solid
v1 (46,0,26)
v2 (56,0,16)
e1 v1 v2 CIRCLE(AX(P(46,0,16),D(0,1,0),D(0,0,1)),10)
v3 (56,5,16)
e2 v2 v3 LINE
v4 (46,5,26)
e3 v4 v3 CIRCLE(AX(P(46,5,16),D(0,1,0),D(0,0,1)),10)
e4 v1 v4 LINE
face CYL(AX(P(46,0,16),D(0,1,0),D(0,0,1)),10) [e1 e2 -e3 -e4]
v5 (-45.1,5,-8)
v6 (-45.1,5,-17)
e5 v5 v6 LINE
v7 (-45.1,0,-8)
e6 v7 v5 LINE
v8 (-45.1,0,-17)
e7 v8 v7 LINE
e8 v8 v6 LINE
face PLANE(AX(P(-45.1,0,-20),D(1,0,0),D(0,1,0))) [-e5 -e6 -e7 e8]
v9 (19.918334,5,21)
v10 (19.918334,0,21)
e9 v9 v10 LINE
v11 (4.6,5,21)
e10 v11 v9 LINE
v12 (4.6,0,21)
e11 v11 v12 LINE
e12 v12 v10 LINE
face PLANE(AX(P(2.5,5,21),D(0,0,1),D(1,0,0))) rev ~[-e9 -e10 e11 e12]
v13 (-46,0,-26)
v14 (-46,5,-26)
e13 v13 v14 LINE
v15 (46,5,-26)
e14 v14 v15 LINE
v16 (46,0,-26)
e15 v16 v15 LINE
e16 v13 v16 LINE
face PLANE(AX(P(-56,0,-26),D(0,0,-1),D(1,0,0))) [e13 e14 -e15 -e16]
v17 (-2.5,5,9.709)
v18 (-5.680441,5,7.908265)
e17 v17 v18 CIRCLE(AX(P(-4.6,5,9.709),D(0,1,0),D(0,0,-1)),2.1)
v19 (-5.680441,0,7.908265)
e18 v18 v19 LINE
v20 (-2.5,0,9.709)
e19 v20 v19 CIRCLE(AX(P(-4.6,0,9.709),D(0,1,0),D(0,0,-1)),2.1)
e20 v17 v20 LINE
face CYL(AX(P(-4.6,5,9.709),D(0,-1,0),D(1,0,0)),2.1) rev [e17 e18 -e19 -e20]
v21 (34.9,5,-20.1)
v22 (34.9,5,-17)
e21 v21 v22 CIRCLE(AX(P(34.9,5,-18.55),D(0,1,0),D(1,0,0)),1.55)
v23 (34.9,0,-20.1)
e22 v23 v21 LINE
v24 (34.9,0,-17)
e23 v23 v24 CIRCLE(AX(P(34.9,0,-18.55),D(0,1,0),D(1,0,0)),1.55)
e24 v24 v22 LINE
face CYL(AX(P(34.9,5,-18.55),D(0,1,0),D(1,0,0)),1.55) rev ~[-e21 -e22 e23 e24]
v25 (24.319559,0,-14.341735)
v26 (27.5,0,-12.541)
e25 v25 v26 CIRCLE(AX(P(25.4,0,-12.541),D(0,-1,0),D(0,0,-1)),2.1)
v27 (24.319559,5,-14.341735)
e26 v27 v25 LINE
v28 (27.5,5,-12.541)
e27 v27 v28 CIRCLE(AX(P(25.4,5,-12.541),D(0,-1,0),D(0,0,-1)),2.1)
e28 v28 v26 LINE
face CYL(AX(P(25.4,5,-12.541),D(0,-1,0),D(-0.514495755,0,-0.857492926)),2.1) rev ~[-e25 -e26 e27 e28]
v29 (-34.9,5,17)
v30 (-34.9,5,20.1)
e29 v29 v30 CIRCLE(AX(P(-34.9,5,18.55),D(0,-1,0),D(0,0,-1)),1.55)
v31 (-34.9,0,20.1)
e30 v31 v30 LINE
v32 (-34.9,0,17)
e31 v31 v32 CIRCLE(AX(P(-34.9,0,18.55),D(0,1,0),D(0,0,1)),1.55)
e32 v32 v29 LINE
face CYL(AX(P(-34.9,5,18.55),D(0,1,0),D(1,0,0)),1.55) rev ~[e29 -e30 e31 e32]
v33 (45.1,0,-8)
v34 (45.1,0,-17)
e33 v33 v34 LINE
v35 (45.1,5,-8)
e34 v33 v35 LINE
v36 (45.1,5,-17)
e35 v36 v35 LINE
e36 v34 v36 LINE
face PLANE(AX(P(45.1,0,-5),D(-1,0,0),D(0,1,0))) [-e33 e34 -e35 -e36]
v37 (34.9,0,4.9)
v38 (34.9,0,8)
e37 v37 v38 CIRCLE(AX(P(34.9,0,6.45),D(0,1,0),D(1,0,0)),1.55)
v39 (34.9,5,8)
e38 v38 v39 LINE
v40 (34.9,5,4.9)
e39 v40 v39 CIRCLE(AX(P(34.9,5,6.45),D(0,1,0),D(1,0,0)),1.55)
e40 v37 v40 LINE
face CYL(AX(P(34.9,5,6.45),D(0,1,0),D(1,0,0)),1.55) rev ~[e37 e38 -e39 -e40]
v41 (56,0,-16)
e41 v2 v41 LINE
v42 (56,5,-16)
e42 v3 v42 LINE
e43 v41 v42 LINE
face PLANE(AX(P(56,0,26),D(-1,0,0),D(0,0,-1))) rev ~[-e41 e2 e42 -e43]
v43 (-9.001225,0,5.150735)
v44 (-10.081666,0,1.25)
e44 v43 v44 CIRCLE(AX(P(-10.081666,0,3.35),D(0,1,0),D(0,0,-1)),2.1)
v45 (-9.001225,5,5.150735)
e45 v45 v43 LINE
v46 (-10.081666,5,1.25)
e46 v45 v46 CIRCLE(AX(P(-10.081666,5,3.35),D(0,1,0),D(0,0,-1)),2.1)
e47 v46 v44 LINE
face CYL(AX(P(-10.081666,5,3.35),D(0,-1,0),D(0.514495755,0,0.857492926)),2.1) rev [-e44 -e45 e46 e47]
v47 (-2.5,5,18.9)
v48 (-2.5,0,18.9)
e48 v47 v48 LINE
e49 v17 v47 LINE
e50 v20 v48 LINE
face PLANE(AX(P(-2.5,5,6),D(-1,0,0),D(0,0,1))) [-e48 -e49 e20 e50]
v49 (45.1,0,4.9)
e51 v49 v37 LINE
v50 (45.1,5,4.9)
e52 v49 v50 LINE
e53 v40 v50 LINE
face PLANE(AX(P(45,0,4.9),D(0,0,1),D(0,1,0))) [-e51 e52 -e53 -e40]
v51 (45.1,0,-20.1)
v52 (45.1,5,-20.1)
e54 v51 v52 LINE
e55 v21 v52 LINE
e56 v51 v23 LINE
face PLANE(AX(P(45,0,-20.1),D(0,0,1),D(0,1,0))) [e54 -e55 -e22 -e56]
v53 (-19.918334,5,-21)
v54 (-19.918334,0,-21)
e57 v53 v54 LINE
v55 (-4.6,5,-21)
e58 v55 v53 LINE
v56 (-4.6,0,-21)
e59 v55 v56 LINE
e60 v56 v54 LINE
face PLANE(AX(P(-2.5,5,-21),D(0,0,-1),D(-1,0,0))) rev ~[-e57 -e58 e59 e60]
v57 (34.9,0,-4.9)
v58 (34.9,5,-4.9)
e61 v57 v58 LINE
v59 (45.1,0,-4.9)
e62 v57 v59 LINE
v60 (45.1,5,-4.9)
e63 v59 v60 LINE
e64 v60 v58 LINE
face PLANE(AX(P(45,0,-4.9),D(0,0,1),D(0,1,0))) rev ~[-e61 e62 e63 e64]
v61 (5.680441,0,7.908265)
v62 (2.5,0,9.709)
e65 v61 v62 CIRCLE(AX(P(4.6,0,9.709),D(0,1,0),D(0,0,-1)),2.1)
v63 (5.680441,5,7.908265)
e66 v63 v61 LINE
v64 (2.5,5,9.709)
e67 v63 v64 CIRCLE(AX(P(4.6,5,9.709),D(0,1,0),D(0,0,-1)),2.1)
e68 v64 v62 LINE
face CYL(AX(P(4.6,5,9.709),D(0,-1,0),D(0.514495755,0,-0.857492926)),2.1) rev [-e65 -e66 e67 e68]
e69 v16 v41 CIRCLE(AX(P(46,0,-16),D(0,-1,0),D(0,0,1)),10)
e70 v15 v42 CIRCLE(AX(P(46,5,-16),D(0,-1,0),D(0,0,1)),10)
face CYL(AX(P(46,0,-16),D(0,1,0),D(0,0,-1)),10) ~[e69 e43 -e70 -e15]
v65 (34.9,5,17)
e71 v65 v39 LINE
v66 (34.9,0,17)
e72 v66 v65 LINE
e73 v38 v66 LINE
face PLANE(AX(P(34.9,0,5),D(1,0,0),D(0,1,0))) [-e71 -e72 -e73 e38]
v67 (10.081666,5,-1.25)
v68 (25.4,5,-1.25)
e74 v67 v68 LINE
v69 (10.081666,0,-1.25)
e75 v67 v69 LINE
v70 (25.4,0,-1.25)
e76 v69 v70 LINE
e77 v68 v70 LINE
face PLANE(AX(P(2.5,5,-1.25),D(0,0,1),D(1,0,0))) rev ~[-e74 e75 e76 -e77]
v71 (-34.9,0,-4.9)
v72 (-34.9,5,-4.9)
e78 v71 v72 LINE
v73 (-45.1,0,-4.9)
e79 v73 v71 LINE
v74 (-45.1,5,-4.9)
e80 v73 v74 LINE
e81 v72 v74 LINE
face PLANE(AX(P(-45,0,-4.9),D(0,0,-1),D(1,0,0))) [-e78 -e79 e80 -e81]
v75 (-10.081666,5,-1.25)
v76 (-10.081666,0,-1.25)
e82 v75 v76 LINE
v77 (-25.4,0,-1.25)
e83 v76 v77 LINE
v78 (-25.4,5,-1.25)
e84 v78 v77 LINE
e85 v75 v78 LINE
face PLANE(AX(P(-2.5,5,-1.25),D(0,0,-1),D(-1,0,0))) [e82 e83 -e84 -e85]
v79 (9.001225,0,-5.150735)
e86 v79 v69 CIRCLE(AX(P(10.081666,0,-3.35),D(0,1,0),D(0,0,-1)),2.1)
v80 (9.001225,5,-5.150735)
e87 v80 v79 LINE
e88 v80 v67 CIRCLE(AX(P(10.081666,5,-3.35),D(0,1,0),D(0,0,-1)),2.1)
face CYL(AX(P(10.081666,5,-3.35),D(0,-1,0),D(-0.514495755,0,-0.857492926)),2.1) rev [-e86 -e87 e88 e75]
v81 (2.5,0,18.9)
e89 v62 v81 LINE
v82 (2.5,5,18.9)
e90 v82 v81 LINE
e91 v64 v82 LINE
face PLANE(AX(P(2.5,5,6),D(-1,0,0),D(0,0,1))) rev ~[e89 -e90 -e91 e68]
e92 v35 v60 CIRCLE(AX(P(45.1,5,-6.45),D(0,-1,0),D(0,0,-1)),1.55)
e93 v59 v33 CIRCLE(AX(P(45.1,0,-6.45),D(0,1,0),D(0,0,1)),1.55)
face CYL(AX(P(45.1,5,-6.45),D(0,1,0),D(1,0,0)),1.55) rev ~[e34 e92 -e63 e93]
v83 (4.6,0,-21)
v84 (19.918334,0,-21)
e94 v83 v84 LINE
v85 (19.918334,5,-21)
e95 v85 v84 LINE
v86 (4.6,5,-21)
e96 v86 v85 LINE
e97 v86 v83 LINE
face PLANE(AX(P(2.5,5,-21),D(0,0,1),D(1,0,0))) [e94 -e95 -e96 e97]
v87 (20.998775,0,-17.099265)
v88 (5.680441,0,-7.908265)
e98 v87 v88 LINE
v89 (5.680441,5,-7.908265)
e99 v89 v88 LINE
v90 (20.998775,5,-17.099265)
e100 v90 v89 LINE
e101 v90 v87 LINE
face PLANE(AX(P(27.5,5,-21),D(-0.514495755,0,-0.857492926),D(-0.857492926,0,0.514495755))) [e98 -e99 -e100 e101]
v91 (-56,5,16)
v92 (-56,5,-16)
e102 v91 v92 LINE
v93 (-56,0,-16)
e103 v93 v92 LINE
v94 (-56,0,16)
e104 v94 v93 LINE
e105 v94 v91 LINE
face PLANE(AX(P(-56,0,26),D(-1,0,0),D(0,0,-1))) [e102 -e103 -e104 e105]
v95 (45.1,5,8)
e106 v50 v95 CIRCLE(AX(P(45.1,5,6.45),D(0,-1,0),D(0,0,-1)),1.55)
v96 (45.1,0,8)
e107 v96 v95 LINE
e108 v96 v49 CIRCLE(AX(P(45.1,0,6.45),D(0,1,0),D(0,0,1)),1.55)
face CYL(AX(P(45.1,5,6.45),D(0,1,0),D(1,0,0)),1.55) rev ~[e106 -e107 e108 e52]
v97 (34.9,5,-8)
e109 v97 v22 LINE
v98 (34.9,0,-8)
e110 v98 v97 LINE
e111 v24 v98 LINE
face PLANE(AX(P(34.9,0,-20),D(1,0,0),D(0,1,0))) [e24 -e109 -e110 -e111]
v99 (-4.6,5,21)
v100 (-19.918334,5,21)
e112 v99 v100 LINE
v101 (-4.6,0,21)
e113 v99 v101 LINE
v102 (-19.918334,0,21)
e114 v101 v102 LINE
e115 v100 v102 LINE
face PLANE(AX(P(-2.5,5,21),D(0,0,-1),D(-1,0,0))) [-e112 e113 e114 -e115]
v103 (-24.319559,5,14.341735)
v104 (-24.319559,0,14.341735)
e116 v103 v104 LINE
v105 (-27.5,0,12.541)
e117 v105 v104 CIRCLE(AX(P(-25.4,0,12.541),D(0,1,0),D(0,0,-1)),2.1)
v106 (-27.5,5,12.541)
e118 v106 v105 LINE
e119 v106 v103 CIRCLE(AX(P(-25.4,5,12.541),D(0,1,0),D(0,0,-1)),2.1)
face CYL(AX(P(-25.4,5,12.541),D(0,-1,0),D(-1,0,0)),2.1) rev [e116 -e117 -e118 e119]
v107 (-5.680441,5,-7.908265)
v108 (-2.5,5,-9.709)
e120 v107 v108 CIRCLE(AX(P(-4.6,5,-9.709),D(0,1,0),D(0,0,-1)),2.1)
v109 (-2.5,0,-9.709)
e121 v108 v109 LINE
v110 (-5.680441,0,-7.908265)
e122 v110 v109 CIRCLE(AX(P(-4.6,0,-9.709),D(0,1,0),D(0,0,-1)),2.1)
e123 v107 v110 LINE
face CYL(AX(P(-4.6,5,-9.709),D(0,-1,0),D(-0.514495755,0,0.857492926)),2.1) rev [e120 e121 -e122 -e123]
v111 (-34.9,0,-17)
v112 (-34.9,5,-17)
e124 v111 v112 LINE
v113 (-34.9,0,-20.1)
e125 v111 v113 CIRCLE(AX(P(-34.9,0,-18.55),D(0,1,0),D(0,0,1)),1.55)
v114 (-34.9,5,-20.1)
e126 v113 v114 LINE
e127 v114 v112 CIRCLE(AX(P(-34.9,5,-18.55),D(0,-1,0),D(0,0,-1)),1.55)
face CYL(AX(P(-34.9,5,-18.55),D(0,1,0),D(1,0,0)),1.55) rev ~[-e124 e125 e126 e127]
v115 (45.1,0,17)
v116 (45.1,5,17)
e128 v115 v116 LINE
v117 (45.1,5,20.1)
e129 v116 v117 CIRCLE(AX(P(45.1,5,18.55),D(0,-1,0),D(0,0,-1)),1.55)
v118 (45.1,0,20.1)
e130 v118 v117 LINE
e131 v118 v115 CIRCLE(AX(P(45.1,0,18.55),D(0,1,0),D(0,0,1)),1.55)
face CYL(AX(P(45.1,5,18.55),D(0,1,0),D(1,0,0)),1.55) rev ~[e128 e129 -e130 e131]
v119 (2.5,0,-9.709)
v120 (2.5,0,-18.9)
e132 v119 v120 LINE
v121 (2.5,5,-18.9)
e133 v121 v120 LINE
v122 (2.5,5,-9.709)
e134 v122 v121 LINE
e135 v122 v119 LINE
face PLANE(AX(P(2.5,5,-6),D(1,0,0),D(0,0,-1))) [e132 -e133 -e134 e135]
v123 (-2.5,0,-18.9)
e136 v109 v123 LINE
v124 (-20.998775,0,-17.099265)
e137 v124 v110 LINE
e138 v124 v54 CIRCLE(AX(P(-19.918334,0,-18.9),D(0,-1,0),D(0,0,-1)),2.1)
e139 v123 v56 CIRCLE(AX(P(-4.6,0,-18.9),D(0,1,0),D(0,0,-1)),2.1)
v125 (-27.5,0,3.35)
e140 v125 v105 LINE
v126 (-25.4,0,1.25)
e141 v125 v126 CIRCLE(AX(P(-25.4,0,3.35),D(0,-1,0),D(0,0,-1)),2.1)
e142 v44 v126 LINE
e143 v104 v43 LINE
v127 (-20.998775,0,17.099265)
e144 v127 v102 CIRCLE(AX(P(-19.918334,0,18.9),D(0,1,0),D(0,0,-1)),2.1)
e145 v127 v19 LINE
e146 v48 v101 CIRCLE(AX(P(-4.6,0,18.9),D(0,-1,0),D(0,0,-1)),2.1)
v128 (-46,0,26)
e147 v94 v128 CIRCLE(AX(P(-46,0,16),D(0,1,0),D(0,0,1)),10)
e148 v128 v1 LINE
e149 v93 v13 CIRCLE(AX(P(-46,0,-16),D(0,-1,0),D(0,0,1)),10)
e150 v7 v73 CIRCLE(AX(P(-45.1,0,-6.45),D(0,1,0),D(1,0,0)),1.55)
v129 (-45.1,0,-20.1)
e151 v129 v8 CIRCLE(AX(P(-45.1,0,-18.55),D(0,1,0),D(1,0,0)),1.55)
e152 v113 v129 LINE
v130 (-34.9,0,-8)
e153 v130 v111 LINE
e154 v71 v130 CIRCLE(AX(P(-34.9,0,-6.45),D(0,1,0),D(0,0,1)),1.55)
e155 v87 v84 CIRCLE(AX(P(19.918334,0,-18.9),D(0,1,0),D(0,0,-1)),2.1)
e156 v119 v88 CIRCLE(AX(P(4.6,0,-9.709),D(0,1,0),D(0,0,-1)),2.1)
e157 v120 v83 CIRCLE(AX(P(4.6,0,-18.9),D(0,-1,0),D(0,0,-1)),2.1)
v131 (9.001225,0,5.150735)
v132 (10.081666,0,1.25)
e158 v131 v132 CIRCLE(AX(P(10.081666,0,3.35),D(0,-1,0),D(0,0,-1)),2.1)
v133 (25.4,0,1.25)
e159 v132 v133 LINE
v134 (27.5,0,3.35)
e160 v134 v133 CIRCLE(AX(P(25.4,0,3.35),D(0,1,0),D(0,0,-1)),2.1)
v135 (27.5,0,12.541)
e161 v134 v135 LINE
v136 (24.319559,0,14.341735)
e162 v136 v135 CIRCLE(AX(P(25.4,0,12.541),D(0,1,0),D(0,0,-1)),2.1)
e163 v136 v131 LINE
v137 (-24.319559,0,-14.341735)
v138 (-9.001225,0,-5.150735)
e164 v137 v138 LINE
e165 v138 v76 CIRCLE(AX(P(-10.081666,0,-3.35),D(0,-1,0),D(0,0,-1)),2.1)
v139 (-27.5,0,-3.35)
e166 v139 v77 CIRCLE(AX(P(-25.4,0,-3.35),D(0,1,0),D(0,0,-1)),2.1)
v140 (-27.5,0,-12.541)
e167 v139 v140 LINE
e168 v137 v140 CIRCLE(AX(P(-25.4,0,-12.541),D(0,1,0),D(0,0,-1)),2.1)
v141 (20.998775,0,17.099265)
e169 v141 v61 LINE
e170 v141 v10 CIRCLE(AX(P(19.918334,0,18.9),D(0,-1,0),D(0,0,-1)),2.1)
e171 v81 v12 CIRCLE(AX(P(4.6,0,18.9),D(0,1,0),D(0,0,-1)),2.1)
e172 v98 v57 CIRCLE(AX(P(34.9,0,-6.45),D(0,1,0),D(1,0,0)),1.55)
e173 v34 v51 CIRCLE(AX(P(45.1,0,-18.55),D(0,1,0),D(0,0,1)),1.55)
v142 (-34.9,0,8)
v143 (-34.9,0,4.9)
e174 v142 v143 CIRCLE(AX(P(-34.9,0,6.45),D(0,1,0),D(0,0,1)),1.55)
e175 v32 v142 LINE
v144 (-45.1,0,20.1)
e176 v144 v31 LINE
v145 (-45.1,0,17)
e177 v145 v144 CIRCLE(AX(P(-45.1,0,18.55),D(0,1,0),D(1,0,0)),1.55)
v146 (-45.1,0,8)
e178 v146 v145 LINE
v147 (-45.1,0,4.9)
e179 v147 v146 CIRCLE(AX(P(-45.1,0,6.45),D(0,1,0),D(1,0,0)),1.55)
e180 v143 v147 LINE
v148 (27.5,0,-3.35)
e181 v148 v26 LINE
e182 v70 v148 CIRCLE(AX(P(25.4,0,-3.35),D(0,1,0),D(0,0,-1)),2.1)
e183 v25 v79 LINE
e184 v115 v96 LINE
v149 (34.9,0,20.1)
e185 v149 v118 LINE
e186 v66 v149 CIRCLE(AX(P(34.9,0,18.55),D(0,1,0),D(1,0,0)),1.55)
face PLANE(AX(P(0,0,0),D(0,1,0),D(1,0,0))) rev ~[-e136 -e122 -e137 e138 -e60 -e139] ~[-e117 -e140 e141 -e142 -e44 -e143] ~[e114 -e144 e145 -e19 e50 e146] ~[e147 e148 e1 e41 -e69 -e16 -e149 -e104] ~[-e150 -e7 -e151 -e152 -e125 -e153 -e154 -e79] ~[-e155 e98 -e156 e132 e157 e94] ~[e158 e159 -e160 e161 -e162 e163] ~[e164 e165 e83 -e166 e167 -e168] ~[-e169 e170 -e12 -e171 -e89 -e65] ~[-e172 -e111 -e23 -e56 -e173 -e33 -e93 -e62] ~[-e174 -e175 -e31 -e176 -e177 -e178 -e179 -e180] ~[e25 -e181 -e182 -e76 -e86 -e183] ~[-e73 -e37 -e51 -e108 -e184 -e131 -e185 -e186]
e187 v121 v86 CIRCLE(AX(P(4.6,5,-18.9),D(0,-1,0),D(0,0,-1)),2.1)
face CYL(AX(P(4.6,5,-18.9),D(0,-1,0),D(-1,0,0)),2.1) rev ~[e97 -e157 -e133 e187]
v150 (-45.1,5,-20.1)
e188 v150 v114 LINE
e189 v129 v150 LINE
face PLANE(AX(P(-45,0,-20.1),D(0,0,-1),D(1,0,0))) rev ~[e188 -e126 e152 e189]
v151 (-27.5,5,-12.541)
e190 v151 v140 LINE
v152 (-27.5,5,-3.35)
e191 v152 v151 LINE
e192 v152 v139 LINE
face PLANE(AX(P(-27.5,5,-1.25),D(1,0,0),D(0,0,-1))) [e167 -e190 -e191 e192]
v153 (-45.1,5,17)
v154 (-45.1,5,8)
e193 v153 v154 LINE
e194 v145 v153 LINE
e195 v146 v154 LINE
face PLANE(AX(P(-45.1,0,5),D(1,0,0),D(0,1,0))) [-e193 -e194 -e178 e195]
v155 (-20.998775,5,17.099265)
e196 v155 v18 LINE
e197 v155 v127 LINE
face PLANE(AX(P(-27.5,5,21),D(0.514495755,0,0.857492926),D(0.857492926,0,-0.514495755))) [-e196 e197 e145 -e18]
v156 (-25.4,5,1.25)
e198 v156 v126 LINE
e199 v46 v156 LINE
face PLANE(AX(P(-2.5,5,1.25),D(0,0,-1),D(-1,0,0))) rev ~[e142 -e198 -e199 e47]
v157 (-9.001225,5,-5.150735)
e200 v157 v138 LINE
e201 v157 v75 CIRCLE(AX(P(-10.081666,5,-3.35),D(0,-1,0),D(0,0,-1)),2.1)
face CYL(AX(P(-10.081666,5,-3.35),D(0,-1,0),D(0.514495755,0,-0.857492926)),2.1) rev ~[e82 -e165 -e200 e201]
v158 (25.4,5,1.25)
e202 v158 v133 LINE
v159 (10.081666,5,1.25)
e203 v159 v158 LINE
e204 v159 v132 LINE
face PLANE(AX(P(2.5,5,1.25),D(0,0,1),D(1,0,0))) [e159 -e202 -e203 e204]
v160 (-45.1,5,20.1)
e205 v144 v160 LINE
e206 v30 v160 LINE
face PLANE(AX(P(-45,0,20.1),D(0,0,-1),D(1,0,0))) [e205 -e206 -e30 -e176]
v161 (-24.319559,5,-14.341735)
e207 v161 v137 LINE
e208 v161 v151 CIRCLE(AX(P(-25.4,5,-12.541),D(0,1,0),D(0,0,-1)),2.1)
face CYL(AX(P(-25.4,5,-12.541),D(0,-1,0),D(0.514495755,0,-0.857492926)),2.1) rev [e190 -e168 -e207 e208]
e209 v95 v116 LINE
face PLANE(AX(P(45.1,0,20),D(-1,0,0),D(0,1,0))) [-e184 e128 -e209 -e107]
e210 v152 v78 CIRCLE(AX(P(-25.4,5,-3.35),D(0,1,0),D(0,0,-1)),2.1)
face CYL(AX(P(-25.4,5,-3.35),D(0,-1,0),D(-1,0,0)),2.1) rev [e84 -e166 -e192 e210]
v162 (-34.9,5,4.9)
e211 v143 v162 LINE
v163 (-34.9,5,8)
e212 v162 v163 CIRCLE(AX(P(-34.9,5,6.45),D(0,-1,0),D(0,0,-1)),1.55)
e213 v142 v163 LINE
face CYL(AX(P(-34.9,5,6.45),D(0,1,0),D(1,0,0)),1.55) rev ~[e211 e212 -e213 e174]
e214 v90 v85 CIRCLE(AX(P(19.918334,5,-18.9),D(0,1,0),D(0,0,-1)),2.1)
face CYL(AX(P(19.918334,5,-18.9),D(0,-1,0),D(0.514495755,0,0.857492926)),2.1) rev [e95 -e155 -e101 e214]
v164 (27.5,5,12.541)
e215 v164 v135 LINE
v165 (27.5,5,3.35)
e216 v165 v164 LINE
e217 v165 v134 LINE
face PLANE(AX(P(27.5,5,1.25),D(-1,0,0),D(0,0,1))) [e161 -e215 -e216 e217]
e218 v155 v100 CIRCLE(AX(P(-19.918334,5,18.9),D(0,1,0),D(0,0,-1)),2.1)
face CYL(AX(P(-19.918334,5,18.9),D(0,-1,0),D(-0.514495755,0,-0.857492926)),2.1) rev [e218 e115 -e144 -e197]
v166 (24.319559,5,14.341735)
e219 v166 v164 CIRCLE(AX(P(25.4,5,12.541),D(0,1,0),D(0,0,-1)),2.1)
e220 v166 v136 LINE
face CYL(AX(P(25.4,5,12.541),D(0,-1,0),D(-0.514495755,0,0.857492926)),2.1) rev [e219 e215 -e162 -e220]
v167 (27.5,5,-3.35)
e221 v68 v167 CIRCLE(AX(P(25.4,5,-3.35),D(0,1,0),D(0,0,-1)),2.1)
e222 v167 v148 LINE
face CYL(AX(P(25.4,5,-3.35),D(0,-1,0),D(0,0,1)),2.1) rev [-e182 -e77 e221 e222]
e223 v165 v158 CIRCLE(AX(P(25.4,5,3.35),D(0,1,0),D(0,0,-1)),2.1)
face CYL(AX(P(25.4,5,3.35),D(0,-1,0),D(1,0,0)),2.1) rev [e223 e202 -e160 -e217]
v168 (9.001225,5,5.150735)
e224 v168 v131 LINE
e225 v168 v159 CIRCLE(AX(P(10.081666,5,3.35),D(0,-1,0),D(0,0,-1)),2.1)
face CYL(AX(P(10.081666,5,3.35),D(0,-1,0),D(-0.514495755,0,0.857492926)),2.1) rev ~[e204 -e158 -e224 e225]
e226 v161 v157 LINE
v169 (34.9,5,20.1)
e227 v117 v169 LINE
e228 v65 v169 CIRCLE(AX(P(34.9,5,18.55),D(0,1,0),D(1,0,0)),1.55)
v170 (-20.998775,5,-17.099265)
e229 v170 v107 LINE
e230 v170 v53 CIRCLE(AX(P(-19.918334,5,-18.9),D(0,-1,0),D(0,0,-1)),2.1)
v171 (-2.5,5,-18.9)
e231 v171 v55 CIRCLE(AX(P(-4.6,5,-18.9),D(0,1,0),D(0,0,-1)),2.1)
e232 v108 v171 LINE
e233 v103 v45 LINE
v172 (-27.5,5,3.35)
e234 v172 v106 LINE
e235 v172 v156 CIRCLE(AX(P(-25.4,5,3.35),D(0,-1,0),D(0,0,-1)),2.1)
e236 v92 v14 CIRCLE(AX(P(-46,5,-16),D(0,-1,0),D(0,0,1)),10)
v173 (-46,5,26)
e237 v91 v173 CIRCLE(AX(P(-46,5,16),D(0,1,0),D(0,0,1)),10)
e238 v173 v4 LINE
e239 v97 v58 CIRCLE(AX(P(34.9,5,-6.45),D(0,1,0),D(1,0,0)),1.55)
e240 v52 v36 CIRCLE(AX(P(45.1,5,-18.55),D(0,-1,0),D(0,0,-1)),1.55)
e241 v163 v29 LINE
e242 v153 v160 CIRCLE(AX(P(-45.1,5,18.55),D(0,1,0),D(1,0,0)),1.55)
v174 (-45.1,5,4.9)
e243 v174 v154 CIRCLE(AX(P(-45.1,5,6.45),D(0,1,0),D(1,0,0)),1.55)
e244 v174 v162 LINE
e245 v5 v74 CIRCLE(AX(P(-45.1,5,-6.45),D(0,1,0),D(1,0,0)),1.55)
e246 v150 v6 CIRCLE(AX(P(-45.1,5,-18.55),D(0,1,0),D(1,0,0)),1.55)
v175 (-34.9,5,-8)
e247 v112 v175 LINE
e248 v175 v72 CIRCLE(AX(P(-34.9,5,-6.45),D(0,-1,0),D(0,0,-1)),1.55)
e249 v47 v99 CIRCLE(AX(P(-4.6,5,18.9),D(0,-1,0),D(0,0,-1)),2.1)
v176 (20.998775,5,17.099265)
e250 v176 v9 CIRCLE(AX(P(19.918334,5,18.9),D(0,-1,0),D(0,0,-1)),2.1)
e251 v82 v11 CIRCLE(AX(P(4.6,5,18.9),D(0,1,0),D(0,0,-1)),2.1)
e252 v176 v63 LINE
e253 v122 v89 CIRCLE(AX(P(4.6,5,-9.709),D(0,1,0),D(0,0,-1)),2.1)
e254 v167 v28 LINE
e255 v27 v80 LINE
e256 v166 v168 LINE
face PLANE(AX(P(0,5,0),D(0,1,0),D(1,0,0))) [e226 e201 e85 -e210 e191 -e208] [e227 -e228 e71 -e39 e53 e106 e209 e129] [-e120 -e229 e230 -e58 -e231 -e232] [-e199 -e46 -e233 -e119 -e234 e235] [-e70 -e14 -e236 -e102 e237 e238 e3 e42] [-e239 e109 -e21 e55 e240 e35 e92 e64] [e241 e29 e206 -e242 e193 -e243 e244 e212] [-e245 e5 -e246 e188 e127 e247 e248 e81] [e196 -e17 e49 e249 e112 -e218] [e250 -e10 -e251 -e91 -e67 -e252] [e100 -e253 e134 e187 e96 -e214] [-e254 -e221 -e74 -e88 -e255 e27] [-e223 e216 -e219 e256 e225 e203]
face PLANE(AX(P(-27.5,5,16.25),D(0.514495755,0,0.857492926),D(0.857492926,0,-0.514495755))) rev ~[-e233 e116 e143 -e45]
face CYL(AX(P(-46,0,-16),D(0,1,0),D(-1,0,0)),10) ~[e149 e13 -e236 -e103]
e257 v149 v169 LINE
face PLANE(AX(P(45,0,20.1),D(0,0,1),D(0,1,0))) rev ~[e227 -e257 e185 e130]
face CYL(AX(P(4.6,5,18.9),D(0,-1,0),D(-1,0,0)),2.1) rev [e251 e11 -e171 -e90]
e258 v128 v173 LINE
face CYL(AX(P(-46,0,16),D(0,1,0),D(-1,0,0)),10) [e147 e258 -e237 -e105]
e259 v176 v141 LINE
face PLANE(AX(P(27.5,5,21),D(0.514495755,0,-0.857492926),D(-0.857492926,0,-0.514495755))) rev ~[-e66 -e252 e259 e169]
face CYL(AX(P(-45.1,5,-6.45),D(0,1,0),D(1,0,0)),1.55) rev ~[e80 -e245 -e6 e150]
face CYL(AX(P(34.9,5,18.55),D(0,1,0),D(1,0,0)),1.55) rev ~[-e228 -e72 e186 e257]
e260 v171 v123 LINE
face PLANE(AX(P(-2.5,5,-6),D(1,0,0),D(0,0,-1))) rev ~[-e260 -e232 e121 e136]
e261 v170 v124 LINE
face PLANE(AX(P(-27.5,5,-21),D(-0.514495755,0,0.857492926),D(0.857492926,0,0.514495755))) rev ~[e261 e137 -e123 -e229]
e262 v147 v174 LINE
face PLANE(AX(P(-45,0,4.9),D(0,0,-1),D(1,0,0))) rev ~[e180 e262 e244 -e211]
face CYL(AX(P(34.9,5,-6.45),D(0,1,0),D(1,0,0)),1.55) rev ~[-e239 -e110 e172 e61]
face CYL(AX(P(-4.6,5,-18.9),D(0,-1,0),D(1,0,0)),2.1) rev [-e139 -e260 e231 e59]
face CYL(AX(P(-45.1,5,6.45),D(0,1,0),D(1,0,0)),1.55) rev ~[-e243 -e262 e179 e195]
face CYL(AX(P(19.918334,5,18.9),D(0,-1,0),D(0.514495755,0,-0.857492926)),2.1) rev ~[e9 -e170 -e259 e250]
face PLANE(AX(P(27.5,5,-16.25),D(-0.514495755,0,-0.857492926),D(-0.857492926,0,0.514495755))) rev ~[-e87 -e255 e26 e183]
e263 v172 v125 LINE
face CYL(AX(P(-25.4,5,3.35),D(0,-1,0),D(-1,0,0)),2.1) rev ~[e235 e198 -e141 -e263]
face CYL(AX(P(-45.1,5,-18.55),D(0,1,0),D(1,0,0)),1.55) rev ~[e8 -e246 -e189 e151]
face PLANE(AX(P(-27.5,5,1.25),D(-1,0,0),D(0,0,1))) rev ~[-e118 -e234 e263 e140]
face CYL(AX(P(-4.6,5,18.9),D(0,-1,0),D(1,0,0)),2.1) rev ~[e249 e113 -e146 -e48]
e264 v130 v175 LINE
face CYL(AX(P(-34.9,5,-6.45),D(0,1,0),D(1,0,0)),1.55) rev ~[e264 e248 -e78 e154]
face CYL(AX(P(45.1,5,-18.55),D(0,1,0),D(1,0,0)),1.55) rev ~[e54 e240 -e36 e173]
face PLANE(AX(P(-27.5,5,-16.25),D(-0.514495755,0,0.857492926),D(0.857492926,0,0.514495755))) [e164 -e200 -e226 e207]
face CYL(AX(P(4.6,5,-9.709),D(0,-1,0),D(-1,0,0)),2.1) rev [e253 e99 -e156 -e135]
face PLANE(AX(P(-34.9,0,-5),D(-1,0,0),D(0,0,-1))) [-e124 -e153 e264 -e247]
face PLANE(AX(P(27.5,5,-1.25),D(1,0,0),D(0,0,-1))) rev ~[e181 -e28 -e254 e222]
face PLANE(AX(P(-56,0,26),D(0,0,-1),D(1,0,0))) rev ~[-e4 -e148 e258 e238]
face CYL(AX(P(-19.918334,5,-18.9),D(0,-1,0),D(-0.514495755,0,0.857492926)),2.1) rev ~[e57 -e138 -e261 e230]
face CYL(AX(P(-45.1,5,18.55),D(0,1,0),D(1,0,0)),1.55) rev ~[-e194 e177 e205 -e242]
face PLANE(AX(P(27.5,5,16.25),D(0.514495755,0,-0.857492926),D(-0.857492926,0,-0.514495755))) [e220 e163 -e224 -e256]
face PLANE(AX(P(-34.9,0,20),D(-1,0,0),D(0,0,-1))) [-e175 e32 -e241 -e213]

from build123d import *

# Parameters (mm, degrees)
SKETCH_1_W          = 112
SKETCH_1_H          = 52
SKETCH_1_W_2        = 10
SKETCH_1_H_2        = 15
EXTRUDE_1_DEPTH     = 5
MOVE_FACE_1_BY      = 0.1
MOVE_FACE_1_2_BY    = 0.1
MOVE_FACE_1_3_BY    = 0.1
MOVE_FACE_1_4_BY    = 0.1
MOVE_FACE_1_5_BY    = 0.1
MOVE_FACE_1_6_BY    = 0.1
MOVE_FACE_1_7_BY    = 0.1
MOVE_FACE_1_8_BY    = 0.1
MOVE_FACE_1_9_BY    = 0.1
MOVE_FACE_1_10_BY   = 0.1
MOVE_FACE_1_11_BY   = 0.1
MOVE_FACE_1_12_BY   = 0.1
MOVE_FACE_1_13_BY   = 0.1
MOVE_FACE_1_14_BY   = 0.1
MOVE_FACE_1_15_BY   = 0.1
MOVE_FACE_1_16_BY   = 0.1
SKETCH_2_R          = 1.55
CUT_EXTRUDE_1_DEPTH = 5
CUT_EXTRUDE_2_DEPTH = 5
FILLET_1_R          = 2.1
FILLET_2_R          = 10


with BuildPart() as part:
    # 草图1 → 凸台-拉伸1 (new body)
    with BuildSketch(Plane(origin=(0, 0, 0), x_dir=(1, 0, 0), z_dir=(0, 1, 0))):
        Rectangle(SKETCH_1_W, SKETCH_1_H)
        with Locations((40, -12.5)):
            Rectangle(SKETCH_1_W_2, SKETCH_1_H_2, mode=Mode.SUBTRACT)
        with Locations((40, 12.5)):
            Rectangle(SKETCH_1_W_2, SKETCH_1_H_2, mode=Mode.SUBTRACT)
        with Locations((-40, -12.5)):
            Rectangle(SKETCH_1_W_2, SKETCH_1_H_2, mode=Mode.SUBTRACT)
        with Locations((-40, 12.5)):
            Rectangle(SKETCH_1_W_2, SKETCH_1_H_2, mode=Mode.SUBTRACT)
    extrude(amount=EXTRUDE_1_DEPTH)

    # Move Face 1: a face moved inward by 0.1
    extrude(part.faces().sort_by_distance((-45, 2.5, -12.5))[0], amount=MOVE_FACE_1_BY, dir=(-1, 0, 0), mode=Mode.SUBTRACT)

    # Move Face 1 2: a face moved inward by 0.1
    extrude(part.faces().sort_by_distance((-40, 2.5, -20))[0], amount=MOVE_FACE_1_2_BY, dir=(0, 0, -1), mode=Mode.SUBTRACT)

    # Move Face 1 3: a face moved inward by 0.1
    extrude(part.faces().sort_by_distance((-45, 2.5, 12.5))[0], amount=MOVE_FACE_1_3_BY, dir=(-1, 0, 0), mode=Mode.SUBTRACT)

    # Move Face 1 4: a face moved inward by 0.1
    extrude(part.faces().sort_by_distance((-40, 2.5, 5))[0], amount=MOVE_FACE_1_4_BY, dir=(0, 0, -1), mode=Mode.SUBTRACT)

    # Move Face 1 5: a face moved inward by 0.1
    extrude(part.faces().sort_by_distance((-40, 2.5, 20))[0], amount=MOVE_FACE_1_5_BY, dir=(0, 0, 1), mode=Mode.SUBTRACT)

    # Move Face 1 6: a face moved inward by 0.1
    extrude(part.faces().sort_by_distance((-35, 2.5, 12.5))[0], amount=MOVE_FACE_1_6_BY, dir=(1, 0, 0), mode=Mode.SUBTRACT)

    # Move Face 1 7: a face moved inward by 0.1
    extrude(part.faces().sort_by_distance((-40, 2.5, -5))[0], amount=MOVE_FACE_1_7_BY, dir=(0, 0, 1), mode=Mode.SUBTRACT)

    # Move Face 1 8: a face moved inward by 0.1
    extrude(part.faces().sort_by_distance((-35, 2.5, -12.5))[0], amount=MOVE_FACE_1_8_BY, dir=(1, 0, 0), mode=Mode.SUBTRACT)

    # Move Face 1 9: a face moved inward by 0.1
    extrude(part.faces().sort_by_distance((40, 2.5, 20))[0], amount=MOVE_FACE_1_9_BY, dir=(0, 0, 1), mode=Mode.SUBTRACT)

    # Move Face 1 10: a face moved inward by 0.1
    extrude(part.faces().sort_by_distance((35, 2.5, 12.5))[0], amount=MOVE_FACE_1_10_BY, dir=(-1, 0, 0), mode=Mode.SUBTRACT)

    # Move Face 1 11: a face moved inward by 0.1
    extrude(part.faces().sort_by_distance((45, 2.5, 12.5))[0], amount=MOVE_FACE_1_11_BY, dir=(1, 0, 0), mode=Mode.SUBTRACT)

    # Move Face 1 12: a face moved inward by 0.1
    extrude(part.faces().sort_by_distance((40, 2.5, 5))[0], amount=MOVE_FACE_1_12_BY, dir=(0, 0, -1), mode=Mode.SUBTRACT)

    # Move Face 1 13: a face moved inward by 0.1
    extrude(part.faces().sort_by_distance((40, 2.5, -5))[0], amount=MOVE_FACE_1_13_BY, dir=(0, 0, 1), mode=Mode.SUBTRACT)

    # Move Face 1 14: a face moved inward by 0.1
    extrude(part.faces().sort_by_distance((35, 2.5, -12.5))[0], amount=MOVE_FACE_1_14_BY, dir=(-1, 0, 0), mode=Mode.SUBTRACT)

    # Move Face 1 15: a face moved inward by 0.1
    extrude(part.faces().sort_by_distance((40, 2.5, -20))[0], amount=MOVE_FACE_1_15_BY, dir=(0, 0, -1), mode=Mode.SUBTRACT)

    # Move Face 1 16: a face moved inward by 0.1
    extrude(part.faces().sort_by_distance((45, 2.5, -12.5))[0], amount=MOVE_FACE_1_16_BY, dir=(1, 0, 0), mode=Mode.SUBTRACT)

    # 草图2 → 切除-拉伸1 (cut)
    with BuildSketch(Plane(origin=(0, 5, 0), x_dir=(1, 0, 0), z_dir=(0, 1, 0))):
        with Locations((45.1, 18.55)):
            Circle(SKETCH_2_R)
        with Locations((45.1, 6.45)):
            Circle(SKETCH_2_R)
        with Locations((45.1, -6.45)):
            Circle(SKETCH_2_R)
        with Locations((45.1, -18.55)):
            Circle(SKETCH_2_R)
        with Locations((34.9, -18.55)):
            Circle(SKETCH_2_R)
        with Locations((34.9, -6.45)):
            Circle(SKETCH_2_R)
        with Locations((34.9, 6.45)):
            Circle(SKETCH_2_R)
        with Locations((34.9, 18.55)):
            Circle(SKETCH_2_R)
        with Locations((-34.9, 18.55)):
            Circle(SKETCH_2_R)
        with Locations((-34.9, 6.45)):
            Circle(SKETCH_2_R)
        with Locations((-34.9, -6.45)):
            Circle(SKETCH_2_R)
        with Locations((-34.9, -18.55)):
            Circle(SKETCH_2_R)
        with Locations((-45.1, -18.55)):
            Circle(SKETCH_2_R)
        with Locations((-45.1, -6.45)):
            Circle(SKETCH_2_R)
        with Locations((-45.1, 6.45)):
            Circle(SKETCH_2_R)
        with Locations((-45.1, 18.55)):
            Circle(SKETCH_2_R)
    extrude(amount=-CUT_EXTRUDE_1_DEPTH, mode=Mode.SUBTRACT)

    # 草图3 → 切除-拉伸2 (cut)
    with BuildSketch(Plane(origin=(0, 5, 0), x_dir=(1, 0, 0), z_dir=(0, 1, 0))):
        Polygon((2.5, 21), (27.5, 21), (2.5, 6), align=None)
        Polygon((27.5, 16.25), (2.5, 1.25), (27.5, 1.25), align=None)
        Polygon((-2.5, 1.25), (-27.5, 1.25), (-27.5, 16.25), align=None)
        Polygon((-27.5, 21), (-2.5, 6), (-2.5, 21), align=None)
        Polygon((2.5, -1.25), (27.5, -1.25), (27.5, -16.25), align=None)
        Polygon((27.5, -21), (2.5, -6), (2.5, -21), align=None)
        Polygon((-27.5, -1.25), (-27.5, -16.25), (-2.5, -1.25), align=None)
        Polygon((-2.5, -21), (-27.5, -21), (-2.5, -6), align=None)
    extrude(amount=-CUT_EXTRUDE_2_DEPTH, mode=Mode.SUBTRACT)

    # 圆角1
    fillet_1_edges = [part.edges().sort_by_distance(p)[0] for p in [
        (27.5, 2.5, 16.25),
        (2.5, 2.5, 1.25),
        (27.5, 2.5, 1.25),
        (-27.5, 2.5, -21),
        (-2.5, 2.5, -21),
        (-2.5, 2.5, -6),
        (-27.5, 2.5, -16.25),
        (-2.5, 2.5, -1.25),
        (-27.5, 2.5, -1.25),
        (27.5, 2.5, -16.25),
        (27.5, 2.5, -1.25),
        (2.5, 2.5, -1.25),
        (-2.5, 2.5, 6),
        (-2.5, 2.5, 21),
        (-27.5, 2.5, 21),
        (-27.5, 2.5, 1.25),
        (-2.5, 2.5, 1.25),
        (-27.5, 2.5, 16.25),
        (27.5, 2.5, 21),
        (2.5, 2.5, 21),
        (2.5, 2.5, 6),
        (2.5, 2.5, -6),
        (2.5, 2.5, -21),
        (27.5, 2.5, -21),
    ]]
    fillet(fillet_1_edges, radius=FILLET_1_R)

    # 圆角2
    fillet_2_edges = [part.edges().sort_by_distance(p)[0] for p in [
        (-56, 2.5, -26),
        (56, 2.5, -26),
        (56, 2.5, 26),
        (-56, 2.5, 26),
    ]]
    fillet(fillet_2_edges, radius=FILLET_2_R)


solid = part.part
